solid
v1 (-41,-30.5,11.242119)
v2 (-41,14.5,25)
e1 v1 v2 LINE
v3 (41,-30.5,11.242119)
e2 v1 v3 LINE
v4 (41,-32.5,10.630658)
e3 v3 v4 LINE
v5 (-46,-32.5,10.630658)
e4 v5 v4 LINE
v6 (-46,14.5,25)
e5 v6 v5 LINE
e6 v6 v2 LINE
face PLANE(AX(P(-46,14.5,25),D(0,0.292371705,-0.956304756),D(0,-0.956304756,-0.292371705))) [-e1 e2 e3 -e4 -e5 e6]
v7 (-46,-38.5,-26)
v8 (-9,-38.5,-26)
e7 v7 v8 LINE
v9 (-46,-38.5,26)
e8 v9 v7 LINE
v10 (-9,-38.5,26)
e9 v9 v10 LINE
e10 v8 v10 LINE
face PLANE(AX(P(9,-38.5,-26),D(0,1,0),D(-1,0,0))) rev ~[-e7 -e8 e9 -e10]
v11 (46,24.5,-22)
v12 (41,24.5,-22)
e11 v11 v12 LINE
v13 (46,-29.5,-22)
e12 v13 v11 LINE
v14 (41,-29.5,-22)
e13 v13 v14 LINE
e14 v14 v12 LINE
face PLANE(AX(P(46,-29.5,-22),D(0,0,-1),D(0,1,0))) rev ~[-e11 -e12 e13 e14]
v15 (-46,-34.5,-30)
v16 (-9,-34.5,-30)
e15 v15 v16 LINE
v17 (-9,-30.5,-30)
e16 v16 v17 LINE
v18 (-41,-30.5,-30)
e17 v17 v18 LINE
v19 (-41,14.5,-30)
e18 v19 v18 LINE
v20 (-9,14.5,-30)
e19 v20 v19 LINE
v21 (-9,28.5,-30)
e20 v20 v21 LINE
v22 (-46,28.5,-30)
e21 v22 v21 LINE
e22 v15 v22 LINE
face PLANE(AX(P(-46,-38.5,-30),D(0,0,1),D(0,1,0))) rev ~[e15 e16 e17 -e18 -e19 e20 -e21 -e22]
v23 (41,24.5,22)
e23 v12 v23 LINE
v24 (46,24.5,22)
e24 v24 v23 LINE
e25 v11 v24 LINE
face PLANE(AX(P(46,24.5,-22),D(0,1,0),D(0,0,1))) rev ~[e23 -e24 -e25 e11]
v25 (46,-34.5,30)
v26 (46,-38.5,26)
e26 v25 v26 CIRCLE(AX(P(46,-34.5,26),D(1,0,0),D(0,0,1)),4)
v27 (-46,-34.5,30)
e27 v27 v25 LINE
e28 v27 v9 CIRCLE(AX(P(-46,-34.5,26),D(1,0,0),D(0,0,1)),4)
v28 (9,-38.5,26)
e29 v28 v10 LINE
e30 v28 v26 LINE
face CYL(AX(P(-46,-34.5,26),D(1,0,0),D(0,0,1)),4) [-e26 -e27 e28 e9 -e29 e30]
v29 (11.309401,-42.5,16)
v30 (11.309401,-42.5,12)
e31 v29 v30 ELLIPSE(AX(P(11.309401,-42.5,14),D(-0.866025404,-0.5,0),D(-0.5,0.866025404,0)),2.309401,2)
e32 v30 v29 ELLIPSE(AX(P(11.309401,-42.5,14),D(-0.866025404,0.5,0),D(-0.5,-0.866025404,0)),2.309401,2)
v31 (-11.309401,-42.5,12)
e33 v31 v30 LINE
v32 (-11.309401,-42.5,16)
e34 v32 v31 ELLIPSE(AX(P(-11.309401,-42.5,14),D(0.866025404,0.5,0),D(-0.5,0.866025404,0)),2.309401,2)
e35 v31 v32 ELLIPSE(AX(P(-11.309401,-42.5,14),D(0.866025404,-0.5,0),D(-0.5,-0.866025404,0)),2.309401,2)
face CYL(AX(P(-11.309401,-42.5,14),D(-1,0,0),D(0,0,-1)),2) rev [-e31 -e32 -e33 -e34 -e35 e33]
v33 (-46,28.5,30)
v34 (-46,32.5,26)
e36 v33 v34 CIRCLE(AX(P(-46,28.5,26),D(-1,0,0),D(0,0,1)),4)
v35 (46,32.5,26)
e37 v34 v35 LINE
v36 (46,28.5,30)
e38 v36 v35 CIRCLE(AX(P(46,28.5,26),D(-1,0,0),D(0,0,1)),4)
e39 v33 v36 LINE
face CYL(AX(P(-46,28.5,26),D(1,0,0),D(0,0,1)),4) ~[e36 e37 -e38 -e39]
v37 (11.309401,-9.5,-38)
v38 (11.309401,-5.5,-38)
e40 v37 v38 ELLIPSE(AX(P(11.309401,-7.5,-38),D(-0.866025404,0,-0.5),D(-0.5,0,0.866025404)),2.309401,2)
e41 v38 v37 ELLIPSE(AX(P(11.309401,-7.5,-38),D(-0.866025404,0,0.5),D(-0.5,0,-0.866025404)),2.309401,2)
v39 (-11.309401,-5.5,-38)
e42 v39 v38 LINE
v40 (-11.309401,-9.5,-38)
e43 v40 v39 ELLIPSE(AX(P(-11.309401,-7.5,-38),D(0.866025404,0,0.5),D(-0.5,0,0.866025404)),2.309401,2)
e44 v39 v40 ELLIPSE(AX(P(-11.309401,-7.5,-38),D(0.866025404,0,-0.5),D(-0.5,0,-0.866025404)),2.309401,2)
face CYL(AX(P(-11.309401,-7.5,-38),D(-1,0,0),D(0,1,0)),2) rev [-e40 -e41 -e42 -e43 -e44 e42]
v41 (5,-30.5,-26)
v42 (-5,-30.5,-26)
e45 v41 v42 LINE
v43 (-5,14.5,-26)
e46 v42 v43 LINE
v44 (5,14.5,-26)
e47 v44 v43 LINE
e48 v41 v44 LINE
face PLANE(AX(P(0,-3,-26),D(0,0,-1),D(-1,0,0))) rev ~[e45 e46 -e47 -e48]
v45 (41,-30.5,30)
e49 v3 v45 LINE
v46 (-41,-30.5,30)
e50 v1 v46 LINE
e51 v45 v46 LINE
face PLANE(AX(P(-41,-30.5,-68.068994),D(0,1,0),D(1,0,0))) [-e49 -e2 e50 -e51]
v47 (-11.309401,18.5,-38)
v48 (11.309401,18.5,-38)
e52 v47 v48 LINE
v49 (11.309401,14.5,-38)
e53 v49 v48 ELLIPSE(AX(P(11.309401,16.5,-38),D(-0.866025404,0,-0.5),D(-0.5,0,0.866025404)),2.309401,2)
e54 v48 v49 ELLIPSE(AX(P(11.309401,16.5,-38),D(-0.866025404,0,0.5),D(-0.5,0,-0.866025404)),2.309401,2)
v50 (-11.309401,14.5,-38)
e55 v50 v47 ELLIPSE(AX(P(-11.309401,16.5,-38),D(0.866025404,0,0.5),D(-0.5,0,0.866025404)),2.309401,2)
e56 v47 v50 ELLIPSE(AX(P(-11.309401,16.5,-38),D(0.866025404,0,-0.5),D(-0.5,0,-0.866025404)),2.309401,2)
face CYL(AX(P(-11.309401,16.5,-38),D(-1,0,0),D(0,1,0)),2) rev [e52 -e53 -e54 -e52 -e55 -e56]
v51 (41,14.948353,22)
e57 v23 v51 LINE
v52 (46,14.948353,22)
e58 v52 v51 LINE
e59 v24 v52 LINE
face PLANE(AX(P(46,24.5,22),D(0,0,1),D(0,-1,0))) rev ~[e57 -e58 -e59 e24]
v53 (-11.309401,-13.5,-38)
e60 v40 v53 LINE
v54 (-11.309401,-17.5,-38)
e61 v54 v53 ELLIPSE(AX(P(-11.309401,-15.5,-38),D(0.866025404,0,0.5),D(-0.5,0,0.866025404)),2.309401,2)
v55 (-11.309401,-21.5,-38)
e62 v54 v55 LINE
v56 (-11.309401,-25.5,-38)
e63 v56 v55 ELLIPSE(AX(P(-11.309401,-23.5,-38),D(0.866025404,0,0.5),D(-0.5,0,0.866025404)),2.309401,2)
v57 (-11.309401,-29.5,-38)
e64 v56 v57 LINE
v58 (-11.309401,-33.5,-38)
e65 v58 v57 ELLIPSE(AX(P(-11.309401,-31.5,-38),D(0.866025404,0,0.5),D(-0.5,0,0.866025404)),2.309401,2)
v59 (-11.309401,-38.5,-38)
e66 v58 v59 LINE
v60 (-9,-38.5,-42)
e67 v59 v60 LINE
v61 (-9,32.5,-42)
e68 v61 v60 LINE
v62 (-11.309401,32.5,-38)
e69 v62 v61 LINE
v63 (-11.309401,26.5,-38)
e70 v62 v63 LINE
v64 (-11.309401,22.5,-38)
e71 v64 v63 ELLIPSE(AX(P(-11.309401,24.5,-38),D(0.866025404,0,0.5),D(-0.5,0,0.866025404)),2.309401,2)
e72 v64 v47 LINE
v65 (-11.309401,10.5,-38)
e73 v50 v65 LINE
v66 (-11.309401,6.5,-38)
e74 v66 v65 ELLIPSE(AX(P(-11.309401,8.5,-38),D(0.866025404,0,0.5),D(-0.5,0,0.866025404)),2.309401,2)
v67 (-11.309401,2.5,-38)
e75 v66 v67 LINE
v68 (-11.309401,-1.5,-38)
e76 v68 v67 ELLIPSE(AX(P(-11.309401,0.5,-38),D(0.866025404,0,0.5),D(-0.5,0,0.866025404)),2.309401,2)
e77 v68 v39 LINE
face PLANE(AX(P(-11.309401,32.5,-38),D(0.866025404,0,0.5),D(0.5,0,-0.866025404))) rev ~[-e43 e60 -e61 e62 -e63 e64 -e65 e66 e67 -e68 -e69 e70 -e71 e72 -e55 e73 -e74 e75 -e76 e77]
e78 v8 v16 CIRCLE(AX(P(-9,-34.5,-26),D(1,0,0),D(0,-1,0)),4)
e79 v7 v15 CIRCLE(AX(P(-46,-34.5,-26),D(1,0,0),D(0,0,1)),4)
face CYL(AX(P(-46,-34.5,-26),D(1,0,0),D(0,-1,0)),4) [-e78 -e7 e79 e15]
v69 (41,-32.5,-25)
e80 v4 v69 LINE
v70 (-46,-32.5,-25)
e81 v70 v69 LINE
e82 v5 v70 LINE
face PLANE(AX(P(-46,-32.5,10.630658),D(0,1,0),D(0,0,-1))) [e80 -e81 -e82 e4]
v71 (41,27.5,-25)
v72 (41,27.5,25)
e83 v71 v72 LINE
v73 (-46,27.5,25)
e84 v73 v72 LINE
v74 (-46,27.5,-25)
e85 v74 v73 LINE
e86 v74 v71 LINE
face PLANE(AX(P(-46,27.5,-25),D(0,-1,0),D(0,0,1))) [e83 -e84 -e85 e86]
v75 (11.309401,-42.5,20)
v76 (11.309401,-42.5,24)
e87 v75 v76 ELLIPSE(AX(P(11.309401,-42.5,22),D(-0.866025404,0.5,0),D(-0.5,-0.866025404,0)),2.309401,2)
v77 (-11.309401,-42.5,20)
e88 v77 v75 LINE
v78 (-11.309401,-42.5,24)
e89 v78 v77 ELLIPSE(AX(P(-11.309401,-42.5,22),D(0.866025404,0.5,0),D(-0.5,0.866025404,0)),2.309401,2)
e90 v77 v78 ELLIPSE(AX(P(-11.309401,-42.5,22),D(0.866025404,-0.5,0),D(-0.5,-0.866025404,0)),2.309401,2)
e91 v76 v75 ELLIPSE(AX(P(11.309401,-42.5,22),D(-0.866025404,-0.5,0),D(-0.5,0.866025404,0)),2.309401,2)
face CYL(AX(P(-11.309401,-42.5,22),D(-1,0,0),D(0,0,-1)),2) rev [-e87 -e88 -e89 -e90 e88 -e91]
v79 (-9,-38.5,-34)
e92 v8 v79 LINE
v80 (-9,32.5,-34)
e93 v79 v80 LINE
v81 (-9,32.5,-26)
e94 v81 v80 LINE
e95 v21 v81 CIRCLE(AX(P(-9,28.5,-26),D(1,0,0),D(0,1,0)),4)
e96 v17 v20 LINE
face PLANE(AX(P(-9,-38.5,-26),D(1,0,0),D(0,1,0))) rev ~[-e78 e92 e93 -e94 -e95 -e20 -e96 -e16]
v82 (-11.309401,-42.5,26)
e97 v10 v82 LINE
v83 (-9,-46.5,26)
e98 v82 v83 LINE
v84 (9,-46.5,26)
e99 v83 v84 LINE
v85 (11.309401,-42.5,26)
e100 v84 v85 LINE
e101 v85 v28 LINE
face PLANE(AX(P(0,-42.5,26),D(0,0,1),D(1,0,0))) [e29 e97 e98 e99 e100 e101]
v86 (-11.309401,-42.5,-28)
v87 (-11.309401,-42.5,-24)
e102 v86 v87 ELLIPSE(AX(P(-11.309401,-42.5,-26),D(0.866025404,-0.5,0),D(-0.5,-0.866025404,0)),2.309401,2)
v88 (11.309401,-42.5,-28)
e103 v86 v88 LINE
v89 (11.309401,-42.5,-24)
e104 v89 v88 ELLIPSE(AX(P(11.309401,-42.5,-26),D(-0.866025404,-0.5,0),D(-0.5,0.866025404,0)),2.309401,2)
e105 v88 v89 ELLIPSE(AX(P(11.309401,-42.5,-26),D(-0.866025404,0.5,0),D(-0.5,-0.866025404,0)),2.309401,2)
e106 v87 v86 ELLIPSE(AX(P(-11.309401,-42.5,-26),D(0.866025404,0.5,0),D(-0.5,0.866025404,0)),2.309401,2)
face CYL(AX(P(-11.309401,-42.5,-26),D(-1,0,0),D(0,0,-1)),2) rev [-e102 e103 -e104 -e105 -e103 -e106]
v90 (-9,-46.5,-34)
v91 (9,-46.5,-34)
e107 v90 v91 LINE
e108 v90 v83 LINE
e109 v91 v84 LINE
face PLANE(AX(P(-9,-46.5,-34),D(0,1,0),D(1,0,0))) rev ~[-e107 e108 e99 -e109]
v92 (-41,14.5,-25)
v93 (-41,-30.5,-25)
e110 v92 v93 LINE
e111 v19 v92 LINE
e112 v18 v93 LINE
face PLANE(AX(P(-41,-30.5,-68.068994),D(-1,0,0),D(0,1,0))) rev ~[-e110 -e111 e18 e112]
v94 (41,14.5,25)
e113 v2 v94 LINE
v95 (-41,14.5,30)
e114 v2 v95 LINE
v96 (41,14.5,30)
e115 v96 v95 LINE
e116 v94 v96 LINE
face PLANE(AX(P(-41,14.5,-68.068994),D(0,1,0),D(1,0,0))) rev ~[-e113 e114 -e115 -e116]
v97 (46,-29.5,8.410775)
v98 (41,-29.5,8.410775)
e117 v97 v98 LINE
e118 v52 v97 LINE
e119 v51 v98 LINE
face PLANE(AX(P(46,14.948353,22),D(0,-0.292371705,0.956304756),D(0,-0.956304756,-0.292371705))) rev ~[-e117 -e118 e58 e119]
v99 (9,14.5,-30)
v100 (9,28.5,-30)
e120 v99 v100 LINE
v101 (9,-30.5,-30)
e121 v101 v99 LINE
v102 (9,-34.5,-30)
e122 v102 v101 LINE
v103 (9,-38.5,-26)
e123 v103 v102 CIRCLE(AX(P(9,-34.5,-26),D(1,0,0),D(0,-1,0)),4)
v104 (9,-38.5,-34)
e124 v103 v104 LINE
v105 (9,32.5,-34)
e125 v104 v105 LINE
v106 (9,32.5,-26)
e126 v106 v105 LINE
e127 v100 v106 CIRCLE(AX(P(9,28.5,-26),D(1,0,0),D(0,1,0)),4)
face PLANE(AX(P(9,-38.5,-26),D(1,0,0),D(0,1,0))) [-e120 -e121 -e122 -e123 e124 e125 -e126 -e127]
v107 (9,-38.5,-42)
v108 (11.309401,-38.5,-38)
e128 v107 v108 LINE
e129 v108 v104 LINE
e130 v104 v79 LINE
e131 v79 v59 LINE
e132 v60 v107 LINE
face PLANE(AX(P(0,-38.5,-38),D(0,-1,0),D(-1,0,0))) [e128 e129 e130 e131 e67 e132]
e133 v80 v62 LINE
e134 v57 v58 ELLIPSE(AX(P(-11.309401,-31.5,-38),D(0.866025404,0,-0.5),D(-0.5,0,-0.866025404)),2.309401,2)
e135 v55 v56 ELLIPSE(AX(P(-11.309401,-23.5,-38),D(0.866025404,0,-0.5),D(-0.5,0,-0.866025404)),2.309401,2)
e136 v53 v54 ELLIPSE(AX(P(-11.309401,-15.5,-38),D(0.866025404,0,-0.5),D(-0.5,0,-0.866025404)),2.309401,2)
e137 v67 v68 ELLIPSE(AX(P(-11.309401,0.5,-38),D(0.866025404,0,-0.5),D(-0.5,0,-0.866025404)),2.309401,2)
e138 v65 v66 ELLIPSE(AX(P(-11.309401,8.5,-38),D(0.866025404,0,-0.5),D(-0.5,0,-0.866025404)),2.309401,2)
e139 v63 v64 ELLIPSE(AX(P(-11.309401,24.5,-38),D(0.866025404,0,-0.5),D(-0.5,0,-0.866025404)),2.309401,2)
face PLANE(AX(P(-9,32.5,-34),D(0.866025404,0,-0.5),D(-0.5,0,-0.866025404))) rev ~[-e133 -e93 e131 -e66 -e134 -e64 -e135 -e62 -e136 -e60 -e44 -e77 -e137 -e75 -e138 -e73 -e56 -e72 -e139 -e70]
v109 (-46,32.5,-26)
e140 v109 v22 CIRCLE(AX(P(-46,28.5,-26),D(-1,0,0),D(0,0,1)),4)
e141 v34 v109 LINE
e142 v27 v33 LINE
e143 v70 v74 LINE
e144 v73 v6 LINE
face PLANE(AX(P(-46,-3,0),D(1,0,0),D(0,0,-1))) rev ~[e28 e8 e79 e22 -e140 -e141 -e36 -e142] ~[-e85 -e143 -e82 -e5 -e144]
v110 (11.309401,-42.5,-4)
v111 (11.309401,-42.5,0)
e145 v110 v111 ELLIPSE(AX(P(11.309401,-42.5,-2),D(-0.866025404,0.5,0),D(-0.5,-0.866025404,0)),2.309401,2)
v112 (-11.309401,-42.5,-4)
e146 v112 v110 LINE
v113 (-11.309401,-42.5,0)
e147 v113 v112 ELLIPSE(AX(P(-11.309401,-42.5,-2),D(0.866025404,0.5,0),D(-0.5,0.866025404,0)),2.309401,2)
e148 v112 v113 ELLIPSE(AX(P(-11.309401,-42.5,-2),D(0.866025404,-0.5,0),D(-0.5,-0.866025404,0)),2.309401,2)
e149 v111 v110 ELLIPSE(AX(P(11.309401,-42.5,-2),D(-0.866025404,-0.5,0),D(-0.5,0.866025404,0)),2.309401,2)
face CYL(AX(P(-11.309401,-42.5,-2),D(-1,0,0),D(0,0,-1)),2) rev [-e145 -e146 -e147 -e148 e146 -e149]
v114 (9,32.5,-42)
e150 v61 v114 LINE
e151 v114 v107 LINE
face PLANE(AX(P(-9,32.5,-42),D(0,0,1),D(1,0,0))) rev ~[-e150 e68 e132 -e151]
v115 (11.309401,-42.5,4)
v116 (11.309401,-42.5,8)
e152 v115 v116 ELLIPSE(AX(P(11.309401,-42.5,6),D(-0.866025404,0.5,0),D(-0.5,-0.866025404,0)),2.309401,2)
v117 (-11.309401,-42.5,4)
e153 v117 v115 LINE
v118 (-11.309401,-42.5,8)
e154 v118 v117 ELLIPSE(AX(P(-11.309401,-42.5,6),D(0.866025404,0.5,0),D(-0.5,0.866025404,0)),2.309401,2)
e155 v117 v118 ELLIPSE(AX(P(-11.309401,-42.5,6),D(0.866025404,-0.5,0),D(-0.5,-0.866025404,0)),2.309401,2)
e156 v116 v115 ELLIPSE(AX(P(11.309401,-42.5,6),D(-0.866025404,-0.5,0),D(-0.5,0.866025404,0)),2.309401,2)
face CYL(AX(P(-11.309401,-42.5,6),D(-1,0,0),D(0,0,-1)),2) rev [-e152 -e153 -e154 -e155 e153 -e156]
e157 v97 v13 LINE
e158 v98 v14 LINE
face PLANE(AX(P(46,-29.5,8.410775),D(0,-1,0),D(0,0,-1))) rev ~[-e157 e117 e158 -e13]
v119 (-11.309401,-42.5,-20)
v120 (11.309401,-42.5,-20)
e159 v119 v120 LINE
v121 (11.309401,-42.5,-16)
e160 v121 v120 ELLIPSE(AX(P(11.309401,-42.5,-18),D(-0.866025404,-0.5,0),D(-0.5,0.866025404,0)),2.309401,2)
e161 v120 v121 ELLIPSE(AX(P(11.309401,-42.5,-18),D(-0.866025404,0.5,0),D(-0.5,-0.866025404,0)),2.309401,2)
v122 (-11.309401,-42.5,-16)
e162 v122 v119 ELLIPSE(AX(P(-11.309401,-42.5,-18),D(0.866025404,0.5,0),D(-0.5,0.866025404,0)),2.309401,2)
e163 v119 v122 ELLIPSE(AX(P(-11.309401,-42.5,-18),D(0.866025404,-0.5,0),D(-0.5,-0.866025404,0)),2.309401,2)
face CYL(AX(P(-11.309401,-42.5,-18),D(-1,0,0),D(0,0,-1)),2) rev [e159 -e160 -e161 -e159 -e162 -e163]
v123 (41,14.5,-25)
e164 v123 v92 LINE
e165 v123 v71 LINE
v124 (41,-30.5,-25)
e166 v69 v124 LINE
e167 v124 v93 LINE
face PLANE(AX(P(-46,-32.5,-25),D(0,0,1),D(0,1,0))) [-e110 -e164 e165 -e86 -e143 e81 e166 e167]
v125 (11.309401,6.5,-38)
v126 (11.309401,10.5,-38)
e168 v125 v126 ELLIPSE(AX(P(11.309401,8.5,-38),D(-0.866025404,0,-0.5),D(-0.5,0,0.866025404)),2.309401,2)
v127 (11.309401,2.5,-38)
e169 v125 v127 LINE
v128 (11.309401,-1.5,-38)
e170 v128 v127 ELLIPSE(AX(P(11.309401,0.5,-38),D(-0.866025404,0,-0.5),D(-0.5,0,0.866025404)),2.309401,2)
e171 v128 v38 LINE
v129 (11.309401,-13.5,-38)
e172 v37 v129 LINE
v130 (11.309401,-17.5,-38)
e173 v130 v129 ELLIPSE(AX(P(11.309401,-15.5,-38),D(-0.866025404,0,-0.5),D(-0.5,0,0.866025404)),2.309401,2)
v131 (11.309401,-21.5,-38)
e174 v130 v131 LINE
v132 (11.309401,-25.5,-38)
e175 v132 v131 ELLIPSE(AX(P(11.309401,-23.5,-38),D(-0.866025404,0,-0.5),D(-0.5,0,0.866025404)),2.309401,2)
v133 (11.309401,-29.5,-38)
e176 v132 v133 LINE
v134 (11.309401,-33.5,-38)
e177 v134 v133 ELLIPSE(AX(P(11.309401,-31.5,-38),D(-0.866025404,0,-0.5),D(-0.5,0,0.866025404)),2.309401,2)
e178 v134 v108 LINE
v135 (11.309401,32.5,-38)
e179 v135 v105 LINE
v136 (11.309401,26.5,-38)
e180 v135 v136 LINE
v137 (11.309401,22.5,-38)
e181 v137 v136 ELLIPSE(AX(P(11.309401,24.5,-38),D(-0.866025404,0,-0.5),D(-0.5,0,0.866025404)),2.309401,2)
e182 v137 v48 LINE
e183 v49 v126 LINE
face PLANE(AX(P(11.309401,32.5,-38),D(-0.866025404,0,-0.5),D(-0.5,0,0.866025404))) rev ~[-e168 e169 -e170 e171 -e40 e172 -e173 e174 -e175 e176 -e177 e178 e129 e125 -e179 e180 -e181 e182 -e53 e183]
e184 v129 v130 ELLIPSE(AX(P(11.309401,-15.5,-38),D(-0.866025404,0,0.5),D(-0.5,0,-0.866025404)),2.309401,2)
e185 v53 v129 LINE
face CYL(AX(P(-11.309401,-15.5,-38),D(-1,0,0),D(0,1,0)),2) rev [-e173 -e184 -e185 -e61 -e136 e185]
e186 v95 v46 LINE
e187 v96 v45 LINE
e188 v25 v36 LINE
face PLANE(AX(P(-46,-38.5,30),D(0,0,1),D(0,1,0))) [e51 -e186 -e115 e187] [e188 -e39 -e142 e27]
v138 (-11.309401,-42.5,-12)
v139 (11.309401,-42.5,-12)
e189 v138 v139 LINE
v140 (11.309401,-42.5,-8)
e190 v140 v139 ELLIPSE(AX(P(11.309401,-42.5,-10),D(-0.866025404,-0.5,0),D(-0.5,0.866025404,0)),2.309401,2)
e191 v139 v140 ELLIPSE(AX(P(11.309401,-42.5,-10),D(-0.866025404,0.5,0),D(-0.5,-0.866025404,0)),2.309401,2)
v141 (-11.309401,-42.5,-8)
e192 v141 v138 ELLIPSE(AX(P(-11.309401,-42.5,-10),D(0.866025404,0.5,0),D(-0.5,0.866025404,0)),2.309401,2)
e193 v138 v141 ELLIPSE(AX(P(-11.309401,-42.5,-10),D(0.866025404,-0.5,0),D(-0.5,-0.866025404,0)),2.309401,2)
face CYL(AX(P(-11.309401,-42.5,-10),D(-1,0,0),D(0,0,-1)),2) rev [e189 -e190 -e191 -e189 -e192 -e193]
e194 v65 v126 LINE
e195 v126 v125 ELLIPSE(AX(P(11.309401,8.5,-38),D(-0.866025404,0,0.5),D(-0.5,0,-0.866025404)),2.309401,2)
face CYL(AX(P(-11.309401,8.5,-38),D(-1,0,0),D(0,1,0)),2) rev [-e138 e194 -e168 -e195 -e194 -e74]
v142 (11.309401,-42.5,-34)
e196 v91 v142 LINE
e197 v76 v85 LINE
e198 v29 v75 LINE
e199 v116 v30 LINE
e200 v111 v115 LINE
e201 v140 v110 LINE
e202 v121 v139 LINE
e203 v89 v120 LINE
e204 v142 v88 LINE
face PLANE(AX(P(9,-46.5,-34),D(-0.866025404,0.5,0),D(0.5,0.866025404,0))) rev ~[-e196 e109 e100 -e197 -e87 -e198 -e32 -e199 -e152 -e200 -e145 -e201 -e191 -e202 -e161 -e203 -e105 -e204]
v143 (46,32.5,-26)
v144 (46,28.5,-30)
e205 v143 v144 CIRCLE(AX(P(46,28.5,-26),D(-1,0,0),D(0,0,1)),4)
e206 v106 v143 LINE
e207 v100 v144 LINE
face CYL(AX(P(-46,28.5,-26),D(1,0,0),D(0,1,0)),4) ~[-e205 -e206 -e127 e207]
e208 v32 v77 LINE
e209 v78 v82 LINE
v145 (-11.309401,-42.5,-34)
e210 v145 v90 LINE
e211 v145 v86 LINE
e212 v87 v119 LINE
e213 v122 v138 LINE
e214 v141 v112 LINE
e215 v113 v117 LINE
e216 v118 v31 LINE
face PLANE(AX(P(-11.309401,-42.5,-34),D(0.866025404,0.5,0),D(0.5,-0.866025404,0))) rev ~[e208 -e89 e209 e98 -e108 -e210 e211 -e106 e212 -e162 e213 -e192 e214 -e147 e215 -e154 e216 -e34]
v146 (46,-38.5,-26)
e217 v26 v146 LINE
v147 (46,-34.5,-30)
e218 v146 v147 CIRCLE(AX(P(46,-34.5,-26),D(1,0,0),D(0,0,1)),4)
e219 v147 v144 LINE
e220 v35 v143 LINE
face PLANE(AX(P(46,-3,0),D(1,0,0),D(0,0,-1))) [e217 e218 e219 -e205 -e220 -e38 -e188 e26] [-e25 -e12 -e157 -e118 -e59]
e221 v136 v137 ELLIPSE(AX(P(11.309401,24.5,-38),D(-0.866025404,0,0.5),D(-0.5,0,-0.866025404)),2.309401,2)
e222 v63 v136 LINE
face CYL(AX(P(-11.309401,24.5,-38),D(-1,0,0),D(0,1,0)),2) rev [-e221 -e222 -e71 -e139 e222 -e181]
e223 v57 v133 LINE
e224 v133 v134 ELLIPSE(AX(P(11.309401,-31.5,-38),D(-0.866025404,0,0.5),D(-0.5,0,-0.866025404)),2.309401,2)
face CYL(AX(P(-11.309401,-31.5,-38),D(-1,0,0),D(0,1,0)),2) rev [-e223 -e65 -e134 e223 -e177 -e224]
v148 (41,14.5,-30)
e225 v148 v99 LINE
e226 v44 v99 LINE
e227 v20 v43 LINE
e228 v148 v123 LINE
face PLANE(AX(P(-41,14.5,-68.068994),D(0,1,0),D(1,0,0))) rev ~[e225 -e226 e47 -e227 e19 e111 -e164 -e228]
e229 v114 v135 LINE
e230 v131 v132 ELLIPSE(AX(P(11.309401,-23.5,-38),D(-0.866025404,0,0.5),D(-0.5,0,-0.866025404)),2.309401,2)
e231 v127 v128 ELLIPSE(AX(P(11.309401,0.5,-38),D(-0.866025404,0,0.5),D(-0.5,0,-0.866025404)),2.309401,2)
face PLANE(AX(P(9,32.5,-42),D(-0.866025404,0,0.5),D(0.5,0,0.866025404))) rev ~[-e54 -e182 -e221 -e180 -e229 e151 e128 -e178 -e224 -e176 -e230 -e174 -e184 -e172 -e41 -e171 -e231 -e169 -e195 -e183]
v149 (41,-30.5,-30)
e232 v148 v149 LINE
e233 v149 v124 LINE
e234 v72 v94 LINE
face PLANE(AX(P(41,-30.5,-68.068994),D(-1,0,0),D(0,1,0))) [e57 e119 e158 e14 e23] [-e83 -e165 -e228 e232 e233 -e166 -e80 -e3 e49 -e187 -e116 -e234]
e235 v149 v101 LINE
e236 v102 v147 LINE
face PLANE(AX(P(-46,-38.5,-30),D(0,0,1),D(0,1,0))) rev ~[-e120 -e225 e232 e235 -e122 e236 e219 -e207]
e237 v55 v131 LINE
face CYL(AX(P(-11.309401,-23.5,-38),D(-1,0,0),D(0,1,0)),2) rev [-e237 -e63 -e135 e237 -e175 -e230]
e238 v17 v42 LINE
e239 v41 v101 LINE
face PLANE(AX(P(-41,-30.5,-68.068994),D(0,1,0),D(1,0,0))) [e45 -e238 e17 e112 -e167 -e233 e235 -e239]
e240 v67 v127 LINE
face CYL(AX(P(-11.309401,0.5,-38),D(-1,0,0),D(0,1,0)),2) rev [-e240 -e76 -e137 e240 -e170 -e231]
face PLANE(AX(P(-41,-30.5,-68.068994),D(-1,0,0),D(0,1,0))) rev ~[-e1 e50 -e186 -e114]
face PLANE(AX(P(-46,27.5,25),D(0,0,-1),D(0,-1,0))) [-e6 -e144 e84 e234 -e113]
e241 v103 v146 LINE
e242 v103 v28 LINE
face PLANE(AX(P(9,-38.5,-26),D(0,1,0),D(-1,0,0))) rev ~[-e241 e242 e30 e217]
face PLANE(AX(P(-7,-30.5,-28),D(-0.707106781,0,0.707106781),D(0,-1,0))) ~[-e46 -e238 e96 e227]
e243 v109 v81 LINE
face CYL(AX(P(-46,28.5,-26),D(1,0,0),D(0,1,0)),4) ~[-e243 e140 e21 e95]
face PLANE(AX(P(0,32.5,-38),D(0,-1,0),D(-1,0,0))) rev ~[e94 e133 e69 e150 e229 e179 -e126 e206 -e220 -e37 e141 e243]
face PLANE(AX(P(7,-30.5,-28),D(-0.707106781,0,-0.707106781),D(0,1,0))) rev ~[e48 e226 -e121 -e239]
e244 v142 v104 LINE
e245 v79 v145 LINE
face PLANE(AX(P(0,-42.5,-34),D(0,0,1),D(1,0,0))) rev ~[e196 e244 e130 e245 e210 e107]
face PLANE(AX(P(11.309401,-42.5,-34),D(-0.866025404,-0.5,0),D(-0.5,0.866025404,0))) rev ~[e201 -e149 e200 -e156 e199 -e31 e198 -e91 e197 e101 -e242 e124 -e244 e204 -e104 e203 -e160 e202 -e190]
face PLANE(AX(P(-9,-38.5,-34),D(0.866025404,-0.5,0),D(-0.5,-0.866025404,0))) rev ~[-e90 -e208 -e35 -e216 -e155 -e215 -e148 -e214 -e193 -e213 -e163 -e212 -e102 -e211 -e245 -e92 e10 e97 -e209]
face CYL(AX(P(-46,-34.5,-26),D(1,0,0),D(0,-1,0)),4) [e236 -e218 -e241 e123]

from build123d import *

# Parameters (mm, degrees)
BASE_DEPTH               = 46
BASE_DEPTH_BACK          = 46
SKETCH4_W                = 60
SKETCH4_H                = 71
LIDAR_DEPTH              = 41
LIDAR_DEPTH_BACK         = 46
HOLEFRONTBACK_DEPTH      = 68.068994327
HOLEFRONTBACK_DEPTH_BACK = 68.068994327
SKETCH6_W                = 82
SKETCH6_H                = 45
FILLET2_R                = 4
BOSS_EXTRUDE1_DEPTH      = 4
BOSS_EXTRUDE1_DEPTH_BACK = 4
SKETCH11_W               = 18
SKETCH11_H               = 71
BOSS_EXTRUDE3_DEPTH      = 60
BOSS_EXTRUDE4_DEPTH      = 71
CUT_EXTRUDE1_START       = -57.309401
SKETCH14_R               = 2
CUT_EXTRUDE1_DEPTH       = 22.618802
CUT_EXTRUDE2_DEPTH       = 5
CHAMFER1_SIZE            = 4


with BuildPart() as part:
    # Sketch4 → Base (new, two sides: drawn at the far end of the back side and taken through both)
    with BuildSketch(Plane(origin=(0, 0, 0), x_dir=(0, 0, -1), z_dir=(1, 0, 0)).offset(-BASE_DEPTH_BACK)):
        with Locations((0, -3)):
            Rectangle(SKETCH4_W, SKETCH4_H)
    extrude(amount=BASE_DEPTH + BASE_DEPTH_BACK)

    # Sketch5 → LIDAR (cut, two sides: drawn at the far end of the back side and taken through both)
    with BuildSketch(Plane(origin=(0, 0, 0), x_dir=(0, 0, -1), z_dir=(1, 0, 0)).offset(-LIDAR_DEPTH_BACK)):
        Polygon((-25, 27.5), (-25, 14.5), (-10.630657971, -32.5), (25, -32.5), (25, 27.5), align=None)
    extrude(amount=LIDAR_DEPTH + LIDAR_DEPTH_BACK, mode=Mode.SUBTRACT)

    # Sketch6 → HoleFrontBack (cut, two sides: drawn at the far end of the back side and taken through both)
    with BuildSketch(Plane.XY.offset(-HOLEFRONTBACK_DEPTH_BACK)):
        with Locations((0, -8)):
            Rectangle(SKETCH6_W, SKETCH6_H)
    extrude(amount=HOLEFRONTBACK_DEPTH + HOLEFRONTBACK_DEPTH_BACK, mode=Mode.SUBTRACT)

    # Fillet2
    fillet2_edges = [part.edges().sort_by_distance(p)[0] for p in [
        (0, 32.5, 30),
        (0, 32.5, -30),
        (0, -38.5, -30),
        (0, -38.5, 30),
    ]]
    fillet(fillet2_edges, radius=FILLET2_R)

    # Sketch11 → Boss-Extrude1 (add, two sides: drawn at the far end of the back side and taken through both)
    with BuildSketch(Plane(origin=(0, 0, -30), x_dir=(-1, 0, 0), z_dir=(0, 0, -1)).offset(-BOSS_EXTRUDE1_DEPTH_BACK)):
        with Locations((0, -3)):
            Rectangle(SKETCH11_W, SKETCH11_H)
    extrude(amount=BOSS_EXTRUDE1_DEPTH + BOSS_EXTRUDE1_DEPTH_BACK)

    # Sketch13 → Boss-Extrude3 (add)
    with BuildSketch(Plane(origin=(0, 0, -34), x_dir=(-1, 0, 0), z_dir=(0, 0, -1))):
        Polygon((-9, -38.5), (9, -38.5), (11.309401077, -42.5), (9, -46.5), (-9, -46.5), (-11.309401077, -42.5), align=None)
    extrude(amount=-BOSS_EXTRUDE3_DEPTH)

    # Sketch12 → Boss-Extrude4 (add)
    with BuildSketch(Plane(origin=(0, 32.5, 0), x_dir=(1, 0, 0), z_dir=(0, 1, 0))):
        Polygon((-9, 34), (-11.309401077, 38), (-9, 42), (9, 42), (11.309401077, 38), (9, 34), align=None)
    extrude(amount=-BOSS_EXTRUDE4_DEPTH)

    # Sketch14 → Cut-Extrude1 (cut)
    with BuildSketch(Plane(origin=(46, 0, 0), x_dir=(0, 0, -1), z_dir=(1, 0, 0)).offset(CUT_EXTRUDE1_START)):
        with Locations(Location((38, 24.5, 0), (0, 0, 90))):
            Circle(SKETCH14_R)
        with Locations(Location((38, 16.5, 0), (0, 0, 90))):
            Circle(SKETCH14_R)
        with Locations(Location((38, 8.5, 0), (0, 0, 90))):
            Circle(SKETCH14_R)
        with Locations(Location((38, 0.5, 0), (0, 0, 90))):
            Circle(SKETCH14_R)
        with Locations(Location((38, -7.5, 0), (0, 0, 90))):
            Circle(SKETCH14_R)
        with Locations(Location((38, -15.5, 0), (0, 0, 90))):
            Circle(SKETCH14_R)
        with Locations(Location((38, -23.5, 0), (0, 0, 90))):
            Circle(SKETCH14_R)
        with Locations(Location((38, -31.5, 0), (0, 0, 90))):
            Circle(SKETCH14_R)
        with Locations((26, -42.5)):
            Circle(SKETCH14_R)
        with Locations((18, -42.5)):
            Circle(SKETCH14_R)
        with Locations((10, -42.5)):
            Circle(SKETCH14_R)
        with Locations((2, -42.5)):
            Circle(SKETCH14_R)
        with Locations((-6, -42.5)):
            Circle(SKETCH14_R)
        with Locations((-14, -42.5)):
            Circle(SKETCH14_R)
        with Locations((-22, -42.5)):
            Circle(SKETCH14_R)
    extrude(amount=CUT_EXTRUDE1_DEPTH, mode=Mode.SUBTRACT)

    # Sketch15 → Cut-Extrude2 (cut)
    with BuildSketch(Plane(origin=(46, 0, 0), x_dir=(0, 0, -1), z_dir=(1, 0, 0))):
        Polygon((-22, 14.948353004), (-8.410774746, -29.5), (22, -29.5), (22, 14.641172912), (22, 24.5), (-22, 24.5), align=None)
    extrude(amount=-CUT_EXTRUDE2_DEPTH, mode=Mode.SUBTRACT)

    # Chamfer1
    chamfer1_edges = [part.edges().sort_by_distance(p)[0] for p in [
        (9, -8, -26),
        (-9, -8, -26),
    ]]
    chamfer(chamfer1_edges, length=CHAMFER1_SIZE)


solid = part.part
